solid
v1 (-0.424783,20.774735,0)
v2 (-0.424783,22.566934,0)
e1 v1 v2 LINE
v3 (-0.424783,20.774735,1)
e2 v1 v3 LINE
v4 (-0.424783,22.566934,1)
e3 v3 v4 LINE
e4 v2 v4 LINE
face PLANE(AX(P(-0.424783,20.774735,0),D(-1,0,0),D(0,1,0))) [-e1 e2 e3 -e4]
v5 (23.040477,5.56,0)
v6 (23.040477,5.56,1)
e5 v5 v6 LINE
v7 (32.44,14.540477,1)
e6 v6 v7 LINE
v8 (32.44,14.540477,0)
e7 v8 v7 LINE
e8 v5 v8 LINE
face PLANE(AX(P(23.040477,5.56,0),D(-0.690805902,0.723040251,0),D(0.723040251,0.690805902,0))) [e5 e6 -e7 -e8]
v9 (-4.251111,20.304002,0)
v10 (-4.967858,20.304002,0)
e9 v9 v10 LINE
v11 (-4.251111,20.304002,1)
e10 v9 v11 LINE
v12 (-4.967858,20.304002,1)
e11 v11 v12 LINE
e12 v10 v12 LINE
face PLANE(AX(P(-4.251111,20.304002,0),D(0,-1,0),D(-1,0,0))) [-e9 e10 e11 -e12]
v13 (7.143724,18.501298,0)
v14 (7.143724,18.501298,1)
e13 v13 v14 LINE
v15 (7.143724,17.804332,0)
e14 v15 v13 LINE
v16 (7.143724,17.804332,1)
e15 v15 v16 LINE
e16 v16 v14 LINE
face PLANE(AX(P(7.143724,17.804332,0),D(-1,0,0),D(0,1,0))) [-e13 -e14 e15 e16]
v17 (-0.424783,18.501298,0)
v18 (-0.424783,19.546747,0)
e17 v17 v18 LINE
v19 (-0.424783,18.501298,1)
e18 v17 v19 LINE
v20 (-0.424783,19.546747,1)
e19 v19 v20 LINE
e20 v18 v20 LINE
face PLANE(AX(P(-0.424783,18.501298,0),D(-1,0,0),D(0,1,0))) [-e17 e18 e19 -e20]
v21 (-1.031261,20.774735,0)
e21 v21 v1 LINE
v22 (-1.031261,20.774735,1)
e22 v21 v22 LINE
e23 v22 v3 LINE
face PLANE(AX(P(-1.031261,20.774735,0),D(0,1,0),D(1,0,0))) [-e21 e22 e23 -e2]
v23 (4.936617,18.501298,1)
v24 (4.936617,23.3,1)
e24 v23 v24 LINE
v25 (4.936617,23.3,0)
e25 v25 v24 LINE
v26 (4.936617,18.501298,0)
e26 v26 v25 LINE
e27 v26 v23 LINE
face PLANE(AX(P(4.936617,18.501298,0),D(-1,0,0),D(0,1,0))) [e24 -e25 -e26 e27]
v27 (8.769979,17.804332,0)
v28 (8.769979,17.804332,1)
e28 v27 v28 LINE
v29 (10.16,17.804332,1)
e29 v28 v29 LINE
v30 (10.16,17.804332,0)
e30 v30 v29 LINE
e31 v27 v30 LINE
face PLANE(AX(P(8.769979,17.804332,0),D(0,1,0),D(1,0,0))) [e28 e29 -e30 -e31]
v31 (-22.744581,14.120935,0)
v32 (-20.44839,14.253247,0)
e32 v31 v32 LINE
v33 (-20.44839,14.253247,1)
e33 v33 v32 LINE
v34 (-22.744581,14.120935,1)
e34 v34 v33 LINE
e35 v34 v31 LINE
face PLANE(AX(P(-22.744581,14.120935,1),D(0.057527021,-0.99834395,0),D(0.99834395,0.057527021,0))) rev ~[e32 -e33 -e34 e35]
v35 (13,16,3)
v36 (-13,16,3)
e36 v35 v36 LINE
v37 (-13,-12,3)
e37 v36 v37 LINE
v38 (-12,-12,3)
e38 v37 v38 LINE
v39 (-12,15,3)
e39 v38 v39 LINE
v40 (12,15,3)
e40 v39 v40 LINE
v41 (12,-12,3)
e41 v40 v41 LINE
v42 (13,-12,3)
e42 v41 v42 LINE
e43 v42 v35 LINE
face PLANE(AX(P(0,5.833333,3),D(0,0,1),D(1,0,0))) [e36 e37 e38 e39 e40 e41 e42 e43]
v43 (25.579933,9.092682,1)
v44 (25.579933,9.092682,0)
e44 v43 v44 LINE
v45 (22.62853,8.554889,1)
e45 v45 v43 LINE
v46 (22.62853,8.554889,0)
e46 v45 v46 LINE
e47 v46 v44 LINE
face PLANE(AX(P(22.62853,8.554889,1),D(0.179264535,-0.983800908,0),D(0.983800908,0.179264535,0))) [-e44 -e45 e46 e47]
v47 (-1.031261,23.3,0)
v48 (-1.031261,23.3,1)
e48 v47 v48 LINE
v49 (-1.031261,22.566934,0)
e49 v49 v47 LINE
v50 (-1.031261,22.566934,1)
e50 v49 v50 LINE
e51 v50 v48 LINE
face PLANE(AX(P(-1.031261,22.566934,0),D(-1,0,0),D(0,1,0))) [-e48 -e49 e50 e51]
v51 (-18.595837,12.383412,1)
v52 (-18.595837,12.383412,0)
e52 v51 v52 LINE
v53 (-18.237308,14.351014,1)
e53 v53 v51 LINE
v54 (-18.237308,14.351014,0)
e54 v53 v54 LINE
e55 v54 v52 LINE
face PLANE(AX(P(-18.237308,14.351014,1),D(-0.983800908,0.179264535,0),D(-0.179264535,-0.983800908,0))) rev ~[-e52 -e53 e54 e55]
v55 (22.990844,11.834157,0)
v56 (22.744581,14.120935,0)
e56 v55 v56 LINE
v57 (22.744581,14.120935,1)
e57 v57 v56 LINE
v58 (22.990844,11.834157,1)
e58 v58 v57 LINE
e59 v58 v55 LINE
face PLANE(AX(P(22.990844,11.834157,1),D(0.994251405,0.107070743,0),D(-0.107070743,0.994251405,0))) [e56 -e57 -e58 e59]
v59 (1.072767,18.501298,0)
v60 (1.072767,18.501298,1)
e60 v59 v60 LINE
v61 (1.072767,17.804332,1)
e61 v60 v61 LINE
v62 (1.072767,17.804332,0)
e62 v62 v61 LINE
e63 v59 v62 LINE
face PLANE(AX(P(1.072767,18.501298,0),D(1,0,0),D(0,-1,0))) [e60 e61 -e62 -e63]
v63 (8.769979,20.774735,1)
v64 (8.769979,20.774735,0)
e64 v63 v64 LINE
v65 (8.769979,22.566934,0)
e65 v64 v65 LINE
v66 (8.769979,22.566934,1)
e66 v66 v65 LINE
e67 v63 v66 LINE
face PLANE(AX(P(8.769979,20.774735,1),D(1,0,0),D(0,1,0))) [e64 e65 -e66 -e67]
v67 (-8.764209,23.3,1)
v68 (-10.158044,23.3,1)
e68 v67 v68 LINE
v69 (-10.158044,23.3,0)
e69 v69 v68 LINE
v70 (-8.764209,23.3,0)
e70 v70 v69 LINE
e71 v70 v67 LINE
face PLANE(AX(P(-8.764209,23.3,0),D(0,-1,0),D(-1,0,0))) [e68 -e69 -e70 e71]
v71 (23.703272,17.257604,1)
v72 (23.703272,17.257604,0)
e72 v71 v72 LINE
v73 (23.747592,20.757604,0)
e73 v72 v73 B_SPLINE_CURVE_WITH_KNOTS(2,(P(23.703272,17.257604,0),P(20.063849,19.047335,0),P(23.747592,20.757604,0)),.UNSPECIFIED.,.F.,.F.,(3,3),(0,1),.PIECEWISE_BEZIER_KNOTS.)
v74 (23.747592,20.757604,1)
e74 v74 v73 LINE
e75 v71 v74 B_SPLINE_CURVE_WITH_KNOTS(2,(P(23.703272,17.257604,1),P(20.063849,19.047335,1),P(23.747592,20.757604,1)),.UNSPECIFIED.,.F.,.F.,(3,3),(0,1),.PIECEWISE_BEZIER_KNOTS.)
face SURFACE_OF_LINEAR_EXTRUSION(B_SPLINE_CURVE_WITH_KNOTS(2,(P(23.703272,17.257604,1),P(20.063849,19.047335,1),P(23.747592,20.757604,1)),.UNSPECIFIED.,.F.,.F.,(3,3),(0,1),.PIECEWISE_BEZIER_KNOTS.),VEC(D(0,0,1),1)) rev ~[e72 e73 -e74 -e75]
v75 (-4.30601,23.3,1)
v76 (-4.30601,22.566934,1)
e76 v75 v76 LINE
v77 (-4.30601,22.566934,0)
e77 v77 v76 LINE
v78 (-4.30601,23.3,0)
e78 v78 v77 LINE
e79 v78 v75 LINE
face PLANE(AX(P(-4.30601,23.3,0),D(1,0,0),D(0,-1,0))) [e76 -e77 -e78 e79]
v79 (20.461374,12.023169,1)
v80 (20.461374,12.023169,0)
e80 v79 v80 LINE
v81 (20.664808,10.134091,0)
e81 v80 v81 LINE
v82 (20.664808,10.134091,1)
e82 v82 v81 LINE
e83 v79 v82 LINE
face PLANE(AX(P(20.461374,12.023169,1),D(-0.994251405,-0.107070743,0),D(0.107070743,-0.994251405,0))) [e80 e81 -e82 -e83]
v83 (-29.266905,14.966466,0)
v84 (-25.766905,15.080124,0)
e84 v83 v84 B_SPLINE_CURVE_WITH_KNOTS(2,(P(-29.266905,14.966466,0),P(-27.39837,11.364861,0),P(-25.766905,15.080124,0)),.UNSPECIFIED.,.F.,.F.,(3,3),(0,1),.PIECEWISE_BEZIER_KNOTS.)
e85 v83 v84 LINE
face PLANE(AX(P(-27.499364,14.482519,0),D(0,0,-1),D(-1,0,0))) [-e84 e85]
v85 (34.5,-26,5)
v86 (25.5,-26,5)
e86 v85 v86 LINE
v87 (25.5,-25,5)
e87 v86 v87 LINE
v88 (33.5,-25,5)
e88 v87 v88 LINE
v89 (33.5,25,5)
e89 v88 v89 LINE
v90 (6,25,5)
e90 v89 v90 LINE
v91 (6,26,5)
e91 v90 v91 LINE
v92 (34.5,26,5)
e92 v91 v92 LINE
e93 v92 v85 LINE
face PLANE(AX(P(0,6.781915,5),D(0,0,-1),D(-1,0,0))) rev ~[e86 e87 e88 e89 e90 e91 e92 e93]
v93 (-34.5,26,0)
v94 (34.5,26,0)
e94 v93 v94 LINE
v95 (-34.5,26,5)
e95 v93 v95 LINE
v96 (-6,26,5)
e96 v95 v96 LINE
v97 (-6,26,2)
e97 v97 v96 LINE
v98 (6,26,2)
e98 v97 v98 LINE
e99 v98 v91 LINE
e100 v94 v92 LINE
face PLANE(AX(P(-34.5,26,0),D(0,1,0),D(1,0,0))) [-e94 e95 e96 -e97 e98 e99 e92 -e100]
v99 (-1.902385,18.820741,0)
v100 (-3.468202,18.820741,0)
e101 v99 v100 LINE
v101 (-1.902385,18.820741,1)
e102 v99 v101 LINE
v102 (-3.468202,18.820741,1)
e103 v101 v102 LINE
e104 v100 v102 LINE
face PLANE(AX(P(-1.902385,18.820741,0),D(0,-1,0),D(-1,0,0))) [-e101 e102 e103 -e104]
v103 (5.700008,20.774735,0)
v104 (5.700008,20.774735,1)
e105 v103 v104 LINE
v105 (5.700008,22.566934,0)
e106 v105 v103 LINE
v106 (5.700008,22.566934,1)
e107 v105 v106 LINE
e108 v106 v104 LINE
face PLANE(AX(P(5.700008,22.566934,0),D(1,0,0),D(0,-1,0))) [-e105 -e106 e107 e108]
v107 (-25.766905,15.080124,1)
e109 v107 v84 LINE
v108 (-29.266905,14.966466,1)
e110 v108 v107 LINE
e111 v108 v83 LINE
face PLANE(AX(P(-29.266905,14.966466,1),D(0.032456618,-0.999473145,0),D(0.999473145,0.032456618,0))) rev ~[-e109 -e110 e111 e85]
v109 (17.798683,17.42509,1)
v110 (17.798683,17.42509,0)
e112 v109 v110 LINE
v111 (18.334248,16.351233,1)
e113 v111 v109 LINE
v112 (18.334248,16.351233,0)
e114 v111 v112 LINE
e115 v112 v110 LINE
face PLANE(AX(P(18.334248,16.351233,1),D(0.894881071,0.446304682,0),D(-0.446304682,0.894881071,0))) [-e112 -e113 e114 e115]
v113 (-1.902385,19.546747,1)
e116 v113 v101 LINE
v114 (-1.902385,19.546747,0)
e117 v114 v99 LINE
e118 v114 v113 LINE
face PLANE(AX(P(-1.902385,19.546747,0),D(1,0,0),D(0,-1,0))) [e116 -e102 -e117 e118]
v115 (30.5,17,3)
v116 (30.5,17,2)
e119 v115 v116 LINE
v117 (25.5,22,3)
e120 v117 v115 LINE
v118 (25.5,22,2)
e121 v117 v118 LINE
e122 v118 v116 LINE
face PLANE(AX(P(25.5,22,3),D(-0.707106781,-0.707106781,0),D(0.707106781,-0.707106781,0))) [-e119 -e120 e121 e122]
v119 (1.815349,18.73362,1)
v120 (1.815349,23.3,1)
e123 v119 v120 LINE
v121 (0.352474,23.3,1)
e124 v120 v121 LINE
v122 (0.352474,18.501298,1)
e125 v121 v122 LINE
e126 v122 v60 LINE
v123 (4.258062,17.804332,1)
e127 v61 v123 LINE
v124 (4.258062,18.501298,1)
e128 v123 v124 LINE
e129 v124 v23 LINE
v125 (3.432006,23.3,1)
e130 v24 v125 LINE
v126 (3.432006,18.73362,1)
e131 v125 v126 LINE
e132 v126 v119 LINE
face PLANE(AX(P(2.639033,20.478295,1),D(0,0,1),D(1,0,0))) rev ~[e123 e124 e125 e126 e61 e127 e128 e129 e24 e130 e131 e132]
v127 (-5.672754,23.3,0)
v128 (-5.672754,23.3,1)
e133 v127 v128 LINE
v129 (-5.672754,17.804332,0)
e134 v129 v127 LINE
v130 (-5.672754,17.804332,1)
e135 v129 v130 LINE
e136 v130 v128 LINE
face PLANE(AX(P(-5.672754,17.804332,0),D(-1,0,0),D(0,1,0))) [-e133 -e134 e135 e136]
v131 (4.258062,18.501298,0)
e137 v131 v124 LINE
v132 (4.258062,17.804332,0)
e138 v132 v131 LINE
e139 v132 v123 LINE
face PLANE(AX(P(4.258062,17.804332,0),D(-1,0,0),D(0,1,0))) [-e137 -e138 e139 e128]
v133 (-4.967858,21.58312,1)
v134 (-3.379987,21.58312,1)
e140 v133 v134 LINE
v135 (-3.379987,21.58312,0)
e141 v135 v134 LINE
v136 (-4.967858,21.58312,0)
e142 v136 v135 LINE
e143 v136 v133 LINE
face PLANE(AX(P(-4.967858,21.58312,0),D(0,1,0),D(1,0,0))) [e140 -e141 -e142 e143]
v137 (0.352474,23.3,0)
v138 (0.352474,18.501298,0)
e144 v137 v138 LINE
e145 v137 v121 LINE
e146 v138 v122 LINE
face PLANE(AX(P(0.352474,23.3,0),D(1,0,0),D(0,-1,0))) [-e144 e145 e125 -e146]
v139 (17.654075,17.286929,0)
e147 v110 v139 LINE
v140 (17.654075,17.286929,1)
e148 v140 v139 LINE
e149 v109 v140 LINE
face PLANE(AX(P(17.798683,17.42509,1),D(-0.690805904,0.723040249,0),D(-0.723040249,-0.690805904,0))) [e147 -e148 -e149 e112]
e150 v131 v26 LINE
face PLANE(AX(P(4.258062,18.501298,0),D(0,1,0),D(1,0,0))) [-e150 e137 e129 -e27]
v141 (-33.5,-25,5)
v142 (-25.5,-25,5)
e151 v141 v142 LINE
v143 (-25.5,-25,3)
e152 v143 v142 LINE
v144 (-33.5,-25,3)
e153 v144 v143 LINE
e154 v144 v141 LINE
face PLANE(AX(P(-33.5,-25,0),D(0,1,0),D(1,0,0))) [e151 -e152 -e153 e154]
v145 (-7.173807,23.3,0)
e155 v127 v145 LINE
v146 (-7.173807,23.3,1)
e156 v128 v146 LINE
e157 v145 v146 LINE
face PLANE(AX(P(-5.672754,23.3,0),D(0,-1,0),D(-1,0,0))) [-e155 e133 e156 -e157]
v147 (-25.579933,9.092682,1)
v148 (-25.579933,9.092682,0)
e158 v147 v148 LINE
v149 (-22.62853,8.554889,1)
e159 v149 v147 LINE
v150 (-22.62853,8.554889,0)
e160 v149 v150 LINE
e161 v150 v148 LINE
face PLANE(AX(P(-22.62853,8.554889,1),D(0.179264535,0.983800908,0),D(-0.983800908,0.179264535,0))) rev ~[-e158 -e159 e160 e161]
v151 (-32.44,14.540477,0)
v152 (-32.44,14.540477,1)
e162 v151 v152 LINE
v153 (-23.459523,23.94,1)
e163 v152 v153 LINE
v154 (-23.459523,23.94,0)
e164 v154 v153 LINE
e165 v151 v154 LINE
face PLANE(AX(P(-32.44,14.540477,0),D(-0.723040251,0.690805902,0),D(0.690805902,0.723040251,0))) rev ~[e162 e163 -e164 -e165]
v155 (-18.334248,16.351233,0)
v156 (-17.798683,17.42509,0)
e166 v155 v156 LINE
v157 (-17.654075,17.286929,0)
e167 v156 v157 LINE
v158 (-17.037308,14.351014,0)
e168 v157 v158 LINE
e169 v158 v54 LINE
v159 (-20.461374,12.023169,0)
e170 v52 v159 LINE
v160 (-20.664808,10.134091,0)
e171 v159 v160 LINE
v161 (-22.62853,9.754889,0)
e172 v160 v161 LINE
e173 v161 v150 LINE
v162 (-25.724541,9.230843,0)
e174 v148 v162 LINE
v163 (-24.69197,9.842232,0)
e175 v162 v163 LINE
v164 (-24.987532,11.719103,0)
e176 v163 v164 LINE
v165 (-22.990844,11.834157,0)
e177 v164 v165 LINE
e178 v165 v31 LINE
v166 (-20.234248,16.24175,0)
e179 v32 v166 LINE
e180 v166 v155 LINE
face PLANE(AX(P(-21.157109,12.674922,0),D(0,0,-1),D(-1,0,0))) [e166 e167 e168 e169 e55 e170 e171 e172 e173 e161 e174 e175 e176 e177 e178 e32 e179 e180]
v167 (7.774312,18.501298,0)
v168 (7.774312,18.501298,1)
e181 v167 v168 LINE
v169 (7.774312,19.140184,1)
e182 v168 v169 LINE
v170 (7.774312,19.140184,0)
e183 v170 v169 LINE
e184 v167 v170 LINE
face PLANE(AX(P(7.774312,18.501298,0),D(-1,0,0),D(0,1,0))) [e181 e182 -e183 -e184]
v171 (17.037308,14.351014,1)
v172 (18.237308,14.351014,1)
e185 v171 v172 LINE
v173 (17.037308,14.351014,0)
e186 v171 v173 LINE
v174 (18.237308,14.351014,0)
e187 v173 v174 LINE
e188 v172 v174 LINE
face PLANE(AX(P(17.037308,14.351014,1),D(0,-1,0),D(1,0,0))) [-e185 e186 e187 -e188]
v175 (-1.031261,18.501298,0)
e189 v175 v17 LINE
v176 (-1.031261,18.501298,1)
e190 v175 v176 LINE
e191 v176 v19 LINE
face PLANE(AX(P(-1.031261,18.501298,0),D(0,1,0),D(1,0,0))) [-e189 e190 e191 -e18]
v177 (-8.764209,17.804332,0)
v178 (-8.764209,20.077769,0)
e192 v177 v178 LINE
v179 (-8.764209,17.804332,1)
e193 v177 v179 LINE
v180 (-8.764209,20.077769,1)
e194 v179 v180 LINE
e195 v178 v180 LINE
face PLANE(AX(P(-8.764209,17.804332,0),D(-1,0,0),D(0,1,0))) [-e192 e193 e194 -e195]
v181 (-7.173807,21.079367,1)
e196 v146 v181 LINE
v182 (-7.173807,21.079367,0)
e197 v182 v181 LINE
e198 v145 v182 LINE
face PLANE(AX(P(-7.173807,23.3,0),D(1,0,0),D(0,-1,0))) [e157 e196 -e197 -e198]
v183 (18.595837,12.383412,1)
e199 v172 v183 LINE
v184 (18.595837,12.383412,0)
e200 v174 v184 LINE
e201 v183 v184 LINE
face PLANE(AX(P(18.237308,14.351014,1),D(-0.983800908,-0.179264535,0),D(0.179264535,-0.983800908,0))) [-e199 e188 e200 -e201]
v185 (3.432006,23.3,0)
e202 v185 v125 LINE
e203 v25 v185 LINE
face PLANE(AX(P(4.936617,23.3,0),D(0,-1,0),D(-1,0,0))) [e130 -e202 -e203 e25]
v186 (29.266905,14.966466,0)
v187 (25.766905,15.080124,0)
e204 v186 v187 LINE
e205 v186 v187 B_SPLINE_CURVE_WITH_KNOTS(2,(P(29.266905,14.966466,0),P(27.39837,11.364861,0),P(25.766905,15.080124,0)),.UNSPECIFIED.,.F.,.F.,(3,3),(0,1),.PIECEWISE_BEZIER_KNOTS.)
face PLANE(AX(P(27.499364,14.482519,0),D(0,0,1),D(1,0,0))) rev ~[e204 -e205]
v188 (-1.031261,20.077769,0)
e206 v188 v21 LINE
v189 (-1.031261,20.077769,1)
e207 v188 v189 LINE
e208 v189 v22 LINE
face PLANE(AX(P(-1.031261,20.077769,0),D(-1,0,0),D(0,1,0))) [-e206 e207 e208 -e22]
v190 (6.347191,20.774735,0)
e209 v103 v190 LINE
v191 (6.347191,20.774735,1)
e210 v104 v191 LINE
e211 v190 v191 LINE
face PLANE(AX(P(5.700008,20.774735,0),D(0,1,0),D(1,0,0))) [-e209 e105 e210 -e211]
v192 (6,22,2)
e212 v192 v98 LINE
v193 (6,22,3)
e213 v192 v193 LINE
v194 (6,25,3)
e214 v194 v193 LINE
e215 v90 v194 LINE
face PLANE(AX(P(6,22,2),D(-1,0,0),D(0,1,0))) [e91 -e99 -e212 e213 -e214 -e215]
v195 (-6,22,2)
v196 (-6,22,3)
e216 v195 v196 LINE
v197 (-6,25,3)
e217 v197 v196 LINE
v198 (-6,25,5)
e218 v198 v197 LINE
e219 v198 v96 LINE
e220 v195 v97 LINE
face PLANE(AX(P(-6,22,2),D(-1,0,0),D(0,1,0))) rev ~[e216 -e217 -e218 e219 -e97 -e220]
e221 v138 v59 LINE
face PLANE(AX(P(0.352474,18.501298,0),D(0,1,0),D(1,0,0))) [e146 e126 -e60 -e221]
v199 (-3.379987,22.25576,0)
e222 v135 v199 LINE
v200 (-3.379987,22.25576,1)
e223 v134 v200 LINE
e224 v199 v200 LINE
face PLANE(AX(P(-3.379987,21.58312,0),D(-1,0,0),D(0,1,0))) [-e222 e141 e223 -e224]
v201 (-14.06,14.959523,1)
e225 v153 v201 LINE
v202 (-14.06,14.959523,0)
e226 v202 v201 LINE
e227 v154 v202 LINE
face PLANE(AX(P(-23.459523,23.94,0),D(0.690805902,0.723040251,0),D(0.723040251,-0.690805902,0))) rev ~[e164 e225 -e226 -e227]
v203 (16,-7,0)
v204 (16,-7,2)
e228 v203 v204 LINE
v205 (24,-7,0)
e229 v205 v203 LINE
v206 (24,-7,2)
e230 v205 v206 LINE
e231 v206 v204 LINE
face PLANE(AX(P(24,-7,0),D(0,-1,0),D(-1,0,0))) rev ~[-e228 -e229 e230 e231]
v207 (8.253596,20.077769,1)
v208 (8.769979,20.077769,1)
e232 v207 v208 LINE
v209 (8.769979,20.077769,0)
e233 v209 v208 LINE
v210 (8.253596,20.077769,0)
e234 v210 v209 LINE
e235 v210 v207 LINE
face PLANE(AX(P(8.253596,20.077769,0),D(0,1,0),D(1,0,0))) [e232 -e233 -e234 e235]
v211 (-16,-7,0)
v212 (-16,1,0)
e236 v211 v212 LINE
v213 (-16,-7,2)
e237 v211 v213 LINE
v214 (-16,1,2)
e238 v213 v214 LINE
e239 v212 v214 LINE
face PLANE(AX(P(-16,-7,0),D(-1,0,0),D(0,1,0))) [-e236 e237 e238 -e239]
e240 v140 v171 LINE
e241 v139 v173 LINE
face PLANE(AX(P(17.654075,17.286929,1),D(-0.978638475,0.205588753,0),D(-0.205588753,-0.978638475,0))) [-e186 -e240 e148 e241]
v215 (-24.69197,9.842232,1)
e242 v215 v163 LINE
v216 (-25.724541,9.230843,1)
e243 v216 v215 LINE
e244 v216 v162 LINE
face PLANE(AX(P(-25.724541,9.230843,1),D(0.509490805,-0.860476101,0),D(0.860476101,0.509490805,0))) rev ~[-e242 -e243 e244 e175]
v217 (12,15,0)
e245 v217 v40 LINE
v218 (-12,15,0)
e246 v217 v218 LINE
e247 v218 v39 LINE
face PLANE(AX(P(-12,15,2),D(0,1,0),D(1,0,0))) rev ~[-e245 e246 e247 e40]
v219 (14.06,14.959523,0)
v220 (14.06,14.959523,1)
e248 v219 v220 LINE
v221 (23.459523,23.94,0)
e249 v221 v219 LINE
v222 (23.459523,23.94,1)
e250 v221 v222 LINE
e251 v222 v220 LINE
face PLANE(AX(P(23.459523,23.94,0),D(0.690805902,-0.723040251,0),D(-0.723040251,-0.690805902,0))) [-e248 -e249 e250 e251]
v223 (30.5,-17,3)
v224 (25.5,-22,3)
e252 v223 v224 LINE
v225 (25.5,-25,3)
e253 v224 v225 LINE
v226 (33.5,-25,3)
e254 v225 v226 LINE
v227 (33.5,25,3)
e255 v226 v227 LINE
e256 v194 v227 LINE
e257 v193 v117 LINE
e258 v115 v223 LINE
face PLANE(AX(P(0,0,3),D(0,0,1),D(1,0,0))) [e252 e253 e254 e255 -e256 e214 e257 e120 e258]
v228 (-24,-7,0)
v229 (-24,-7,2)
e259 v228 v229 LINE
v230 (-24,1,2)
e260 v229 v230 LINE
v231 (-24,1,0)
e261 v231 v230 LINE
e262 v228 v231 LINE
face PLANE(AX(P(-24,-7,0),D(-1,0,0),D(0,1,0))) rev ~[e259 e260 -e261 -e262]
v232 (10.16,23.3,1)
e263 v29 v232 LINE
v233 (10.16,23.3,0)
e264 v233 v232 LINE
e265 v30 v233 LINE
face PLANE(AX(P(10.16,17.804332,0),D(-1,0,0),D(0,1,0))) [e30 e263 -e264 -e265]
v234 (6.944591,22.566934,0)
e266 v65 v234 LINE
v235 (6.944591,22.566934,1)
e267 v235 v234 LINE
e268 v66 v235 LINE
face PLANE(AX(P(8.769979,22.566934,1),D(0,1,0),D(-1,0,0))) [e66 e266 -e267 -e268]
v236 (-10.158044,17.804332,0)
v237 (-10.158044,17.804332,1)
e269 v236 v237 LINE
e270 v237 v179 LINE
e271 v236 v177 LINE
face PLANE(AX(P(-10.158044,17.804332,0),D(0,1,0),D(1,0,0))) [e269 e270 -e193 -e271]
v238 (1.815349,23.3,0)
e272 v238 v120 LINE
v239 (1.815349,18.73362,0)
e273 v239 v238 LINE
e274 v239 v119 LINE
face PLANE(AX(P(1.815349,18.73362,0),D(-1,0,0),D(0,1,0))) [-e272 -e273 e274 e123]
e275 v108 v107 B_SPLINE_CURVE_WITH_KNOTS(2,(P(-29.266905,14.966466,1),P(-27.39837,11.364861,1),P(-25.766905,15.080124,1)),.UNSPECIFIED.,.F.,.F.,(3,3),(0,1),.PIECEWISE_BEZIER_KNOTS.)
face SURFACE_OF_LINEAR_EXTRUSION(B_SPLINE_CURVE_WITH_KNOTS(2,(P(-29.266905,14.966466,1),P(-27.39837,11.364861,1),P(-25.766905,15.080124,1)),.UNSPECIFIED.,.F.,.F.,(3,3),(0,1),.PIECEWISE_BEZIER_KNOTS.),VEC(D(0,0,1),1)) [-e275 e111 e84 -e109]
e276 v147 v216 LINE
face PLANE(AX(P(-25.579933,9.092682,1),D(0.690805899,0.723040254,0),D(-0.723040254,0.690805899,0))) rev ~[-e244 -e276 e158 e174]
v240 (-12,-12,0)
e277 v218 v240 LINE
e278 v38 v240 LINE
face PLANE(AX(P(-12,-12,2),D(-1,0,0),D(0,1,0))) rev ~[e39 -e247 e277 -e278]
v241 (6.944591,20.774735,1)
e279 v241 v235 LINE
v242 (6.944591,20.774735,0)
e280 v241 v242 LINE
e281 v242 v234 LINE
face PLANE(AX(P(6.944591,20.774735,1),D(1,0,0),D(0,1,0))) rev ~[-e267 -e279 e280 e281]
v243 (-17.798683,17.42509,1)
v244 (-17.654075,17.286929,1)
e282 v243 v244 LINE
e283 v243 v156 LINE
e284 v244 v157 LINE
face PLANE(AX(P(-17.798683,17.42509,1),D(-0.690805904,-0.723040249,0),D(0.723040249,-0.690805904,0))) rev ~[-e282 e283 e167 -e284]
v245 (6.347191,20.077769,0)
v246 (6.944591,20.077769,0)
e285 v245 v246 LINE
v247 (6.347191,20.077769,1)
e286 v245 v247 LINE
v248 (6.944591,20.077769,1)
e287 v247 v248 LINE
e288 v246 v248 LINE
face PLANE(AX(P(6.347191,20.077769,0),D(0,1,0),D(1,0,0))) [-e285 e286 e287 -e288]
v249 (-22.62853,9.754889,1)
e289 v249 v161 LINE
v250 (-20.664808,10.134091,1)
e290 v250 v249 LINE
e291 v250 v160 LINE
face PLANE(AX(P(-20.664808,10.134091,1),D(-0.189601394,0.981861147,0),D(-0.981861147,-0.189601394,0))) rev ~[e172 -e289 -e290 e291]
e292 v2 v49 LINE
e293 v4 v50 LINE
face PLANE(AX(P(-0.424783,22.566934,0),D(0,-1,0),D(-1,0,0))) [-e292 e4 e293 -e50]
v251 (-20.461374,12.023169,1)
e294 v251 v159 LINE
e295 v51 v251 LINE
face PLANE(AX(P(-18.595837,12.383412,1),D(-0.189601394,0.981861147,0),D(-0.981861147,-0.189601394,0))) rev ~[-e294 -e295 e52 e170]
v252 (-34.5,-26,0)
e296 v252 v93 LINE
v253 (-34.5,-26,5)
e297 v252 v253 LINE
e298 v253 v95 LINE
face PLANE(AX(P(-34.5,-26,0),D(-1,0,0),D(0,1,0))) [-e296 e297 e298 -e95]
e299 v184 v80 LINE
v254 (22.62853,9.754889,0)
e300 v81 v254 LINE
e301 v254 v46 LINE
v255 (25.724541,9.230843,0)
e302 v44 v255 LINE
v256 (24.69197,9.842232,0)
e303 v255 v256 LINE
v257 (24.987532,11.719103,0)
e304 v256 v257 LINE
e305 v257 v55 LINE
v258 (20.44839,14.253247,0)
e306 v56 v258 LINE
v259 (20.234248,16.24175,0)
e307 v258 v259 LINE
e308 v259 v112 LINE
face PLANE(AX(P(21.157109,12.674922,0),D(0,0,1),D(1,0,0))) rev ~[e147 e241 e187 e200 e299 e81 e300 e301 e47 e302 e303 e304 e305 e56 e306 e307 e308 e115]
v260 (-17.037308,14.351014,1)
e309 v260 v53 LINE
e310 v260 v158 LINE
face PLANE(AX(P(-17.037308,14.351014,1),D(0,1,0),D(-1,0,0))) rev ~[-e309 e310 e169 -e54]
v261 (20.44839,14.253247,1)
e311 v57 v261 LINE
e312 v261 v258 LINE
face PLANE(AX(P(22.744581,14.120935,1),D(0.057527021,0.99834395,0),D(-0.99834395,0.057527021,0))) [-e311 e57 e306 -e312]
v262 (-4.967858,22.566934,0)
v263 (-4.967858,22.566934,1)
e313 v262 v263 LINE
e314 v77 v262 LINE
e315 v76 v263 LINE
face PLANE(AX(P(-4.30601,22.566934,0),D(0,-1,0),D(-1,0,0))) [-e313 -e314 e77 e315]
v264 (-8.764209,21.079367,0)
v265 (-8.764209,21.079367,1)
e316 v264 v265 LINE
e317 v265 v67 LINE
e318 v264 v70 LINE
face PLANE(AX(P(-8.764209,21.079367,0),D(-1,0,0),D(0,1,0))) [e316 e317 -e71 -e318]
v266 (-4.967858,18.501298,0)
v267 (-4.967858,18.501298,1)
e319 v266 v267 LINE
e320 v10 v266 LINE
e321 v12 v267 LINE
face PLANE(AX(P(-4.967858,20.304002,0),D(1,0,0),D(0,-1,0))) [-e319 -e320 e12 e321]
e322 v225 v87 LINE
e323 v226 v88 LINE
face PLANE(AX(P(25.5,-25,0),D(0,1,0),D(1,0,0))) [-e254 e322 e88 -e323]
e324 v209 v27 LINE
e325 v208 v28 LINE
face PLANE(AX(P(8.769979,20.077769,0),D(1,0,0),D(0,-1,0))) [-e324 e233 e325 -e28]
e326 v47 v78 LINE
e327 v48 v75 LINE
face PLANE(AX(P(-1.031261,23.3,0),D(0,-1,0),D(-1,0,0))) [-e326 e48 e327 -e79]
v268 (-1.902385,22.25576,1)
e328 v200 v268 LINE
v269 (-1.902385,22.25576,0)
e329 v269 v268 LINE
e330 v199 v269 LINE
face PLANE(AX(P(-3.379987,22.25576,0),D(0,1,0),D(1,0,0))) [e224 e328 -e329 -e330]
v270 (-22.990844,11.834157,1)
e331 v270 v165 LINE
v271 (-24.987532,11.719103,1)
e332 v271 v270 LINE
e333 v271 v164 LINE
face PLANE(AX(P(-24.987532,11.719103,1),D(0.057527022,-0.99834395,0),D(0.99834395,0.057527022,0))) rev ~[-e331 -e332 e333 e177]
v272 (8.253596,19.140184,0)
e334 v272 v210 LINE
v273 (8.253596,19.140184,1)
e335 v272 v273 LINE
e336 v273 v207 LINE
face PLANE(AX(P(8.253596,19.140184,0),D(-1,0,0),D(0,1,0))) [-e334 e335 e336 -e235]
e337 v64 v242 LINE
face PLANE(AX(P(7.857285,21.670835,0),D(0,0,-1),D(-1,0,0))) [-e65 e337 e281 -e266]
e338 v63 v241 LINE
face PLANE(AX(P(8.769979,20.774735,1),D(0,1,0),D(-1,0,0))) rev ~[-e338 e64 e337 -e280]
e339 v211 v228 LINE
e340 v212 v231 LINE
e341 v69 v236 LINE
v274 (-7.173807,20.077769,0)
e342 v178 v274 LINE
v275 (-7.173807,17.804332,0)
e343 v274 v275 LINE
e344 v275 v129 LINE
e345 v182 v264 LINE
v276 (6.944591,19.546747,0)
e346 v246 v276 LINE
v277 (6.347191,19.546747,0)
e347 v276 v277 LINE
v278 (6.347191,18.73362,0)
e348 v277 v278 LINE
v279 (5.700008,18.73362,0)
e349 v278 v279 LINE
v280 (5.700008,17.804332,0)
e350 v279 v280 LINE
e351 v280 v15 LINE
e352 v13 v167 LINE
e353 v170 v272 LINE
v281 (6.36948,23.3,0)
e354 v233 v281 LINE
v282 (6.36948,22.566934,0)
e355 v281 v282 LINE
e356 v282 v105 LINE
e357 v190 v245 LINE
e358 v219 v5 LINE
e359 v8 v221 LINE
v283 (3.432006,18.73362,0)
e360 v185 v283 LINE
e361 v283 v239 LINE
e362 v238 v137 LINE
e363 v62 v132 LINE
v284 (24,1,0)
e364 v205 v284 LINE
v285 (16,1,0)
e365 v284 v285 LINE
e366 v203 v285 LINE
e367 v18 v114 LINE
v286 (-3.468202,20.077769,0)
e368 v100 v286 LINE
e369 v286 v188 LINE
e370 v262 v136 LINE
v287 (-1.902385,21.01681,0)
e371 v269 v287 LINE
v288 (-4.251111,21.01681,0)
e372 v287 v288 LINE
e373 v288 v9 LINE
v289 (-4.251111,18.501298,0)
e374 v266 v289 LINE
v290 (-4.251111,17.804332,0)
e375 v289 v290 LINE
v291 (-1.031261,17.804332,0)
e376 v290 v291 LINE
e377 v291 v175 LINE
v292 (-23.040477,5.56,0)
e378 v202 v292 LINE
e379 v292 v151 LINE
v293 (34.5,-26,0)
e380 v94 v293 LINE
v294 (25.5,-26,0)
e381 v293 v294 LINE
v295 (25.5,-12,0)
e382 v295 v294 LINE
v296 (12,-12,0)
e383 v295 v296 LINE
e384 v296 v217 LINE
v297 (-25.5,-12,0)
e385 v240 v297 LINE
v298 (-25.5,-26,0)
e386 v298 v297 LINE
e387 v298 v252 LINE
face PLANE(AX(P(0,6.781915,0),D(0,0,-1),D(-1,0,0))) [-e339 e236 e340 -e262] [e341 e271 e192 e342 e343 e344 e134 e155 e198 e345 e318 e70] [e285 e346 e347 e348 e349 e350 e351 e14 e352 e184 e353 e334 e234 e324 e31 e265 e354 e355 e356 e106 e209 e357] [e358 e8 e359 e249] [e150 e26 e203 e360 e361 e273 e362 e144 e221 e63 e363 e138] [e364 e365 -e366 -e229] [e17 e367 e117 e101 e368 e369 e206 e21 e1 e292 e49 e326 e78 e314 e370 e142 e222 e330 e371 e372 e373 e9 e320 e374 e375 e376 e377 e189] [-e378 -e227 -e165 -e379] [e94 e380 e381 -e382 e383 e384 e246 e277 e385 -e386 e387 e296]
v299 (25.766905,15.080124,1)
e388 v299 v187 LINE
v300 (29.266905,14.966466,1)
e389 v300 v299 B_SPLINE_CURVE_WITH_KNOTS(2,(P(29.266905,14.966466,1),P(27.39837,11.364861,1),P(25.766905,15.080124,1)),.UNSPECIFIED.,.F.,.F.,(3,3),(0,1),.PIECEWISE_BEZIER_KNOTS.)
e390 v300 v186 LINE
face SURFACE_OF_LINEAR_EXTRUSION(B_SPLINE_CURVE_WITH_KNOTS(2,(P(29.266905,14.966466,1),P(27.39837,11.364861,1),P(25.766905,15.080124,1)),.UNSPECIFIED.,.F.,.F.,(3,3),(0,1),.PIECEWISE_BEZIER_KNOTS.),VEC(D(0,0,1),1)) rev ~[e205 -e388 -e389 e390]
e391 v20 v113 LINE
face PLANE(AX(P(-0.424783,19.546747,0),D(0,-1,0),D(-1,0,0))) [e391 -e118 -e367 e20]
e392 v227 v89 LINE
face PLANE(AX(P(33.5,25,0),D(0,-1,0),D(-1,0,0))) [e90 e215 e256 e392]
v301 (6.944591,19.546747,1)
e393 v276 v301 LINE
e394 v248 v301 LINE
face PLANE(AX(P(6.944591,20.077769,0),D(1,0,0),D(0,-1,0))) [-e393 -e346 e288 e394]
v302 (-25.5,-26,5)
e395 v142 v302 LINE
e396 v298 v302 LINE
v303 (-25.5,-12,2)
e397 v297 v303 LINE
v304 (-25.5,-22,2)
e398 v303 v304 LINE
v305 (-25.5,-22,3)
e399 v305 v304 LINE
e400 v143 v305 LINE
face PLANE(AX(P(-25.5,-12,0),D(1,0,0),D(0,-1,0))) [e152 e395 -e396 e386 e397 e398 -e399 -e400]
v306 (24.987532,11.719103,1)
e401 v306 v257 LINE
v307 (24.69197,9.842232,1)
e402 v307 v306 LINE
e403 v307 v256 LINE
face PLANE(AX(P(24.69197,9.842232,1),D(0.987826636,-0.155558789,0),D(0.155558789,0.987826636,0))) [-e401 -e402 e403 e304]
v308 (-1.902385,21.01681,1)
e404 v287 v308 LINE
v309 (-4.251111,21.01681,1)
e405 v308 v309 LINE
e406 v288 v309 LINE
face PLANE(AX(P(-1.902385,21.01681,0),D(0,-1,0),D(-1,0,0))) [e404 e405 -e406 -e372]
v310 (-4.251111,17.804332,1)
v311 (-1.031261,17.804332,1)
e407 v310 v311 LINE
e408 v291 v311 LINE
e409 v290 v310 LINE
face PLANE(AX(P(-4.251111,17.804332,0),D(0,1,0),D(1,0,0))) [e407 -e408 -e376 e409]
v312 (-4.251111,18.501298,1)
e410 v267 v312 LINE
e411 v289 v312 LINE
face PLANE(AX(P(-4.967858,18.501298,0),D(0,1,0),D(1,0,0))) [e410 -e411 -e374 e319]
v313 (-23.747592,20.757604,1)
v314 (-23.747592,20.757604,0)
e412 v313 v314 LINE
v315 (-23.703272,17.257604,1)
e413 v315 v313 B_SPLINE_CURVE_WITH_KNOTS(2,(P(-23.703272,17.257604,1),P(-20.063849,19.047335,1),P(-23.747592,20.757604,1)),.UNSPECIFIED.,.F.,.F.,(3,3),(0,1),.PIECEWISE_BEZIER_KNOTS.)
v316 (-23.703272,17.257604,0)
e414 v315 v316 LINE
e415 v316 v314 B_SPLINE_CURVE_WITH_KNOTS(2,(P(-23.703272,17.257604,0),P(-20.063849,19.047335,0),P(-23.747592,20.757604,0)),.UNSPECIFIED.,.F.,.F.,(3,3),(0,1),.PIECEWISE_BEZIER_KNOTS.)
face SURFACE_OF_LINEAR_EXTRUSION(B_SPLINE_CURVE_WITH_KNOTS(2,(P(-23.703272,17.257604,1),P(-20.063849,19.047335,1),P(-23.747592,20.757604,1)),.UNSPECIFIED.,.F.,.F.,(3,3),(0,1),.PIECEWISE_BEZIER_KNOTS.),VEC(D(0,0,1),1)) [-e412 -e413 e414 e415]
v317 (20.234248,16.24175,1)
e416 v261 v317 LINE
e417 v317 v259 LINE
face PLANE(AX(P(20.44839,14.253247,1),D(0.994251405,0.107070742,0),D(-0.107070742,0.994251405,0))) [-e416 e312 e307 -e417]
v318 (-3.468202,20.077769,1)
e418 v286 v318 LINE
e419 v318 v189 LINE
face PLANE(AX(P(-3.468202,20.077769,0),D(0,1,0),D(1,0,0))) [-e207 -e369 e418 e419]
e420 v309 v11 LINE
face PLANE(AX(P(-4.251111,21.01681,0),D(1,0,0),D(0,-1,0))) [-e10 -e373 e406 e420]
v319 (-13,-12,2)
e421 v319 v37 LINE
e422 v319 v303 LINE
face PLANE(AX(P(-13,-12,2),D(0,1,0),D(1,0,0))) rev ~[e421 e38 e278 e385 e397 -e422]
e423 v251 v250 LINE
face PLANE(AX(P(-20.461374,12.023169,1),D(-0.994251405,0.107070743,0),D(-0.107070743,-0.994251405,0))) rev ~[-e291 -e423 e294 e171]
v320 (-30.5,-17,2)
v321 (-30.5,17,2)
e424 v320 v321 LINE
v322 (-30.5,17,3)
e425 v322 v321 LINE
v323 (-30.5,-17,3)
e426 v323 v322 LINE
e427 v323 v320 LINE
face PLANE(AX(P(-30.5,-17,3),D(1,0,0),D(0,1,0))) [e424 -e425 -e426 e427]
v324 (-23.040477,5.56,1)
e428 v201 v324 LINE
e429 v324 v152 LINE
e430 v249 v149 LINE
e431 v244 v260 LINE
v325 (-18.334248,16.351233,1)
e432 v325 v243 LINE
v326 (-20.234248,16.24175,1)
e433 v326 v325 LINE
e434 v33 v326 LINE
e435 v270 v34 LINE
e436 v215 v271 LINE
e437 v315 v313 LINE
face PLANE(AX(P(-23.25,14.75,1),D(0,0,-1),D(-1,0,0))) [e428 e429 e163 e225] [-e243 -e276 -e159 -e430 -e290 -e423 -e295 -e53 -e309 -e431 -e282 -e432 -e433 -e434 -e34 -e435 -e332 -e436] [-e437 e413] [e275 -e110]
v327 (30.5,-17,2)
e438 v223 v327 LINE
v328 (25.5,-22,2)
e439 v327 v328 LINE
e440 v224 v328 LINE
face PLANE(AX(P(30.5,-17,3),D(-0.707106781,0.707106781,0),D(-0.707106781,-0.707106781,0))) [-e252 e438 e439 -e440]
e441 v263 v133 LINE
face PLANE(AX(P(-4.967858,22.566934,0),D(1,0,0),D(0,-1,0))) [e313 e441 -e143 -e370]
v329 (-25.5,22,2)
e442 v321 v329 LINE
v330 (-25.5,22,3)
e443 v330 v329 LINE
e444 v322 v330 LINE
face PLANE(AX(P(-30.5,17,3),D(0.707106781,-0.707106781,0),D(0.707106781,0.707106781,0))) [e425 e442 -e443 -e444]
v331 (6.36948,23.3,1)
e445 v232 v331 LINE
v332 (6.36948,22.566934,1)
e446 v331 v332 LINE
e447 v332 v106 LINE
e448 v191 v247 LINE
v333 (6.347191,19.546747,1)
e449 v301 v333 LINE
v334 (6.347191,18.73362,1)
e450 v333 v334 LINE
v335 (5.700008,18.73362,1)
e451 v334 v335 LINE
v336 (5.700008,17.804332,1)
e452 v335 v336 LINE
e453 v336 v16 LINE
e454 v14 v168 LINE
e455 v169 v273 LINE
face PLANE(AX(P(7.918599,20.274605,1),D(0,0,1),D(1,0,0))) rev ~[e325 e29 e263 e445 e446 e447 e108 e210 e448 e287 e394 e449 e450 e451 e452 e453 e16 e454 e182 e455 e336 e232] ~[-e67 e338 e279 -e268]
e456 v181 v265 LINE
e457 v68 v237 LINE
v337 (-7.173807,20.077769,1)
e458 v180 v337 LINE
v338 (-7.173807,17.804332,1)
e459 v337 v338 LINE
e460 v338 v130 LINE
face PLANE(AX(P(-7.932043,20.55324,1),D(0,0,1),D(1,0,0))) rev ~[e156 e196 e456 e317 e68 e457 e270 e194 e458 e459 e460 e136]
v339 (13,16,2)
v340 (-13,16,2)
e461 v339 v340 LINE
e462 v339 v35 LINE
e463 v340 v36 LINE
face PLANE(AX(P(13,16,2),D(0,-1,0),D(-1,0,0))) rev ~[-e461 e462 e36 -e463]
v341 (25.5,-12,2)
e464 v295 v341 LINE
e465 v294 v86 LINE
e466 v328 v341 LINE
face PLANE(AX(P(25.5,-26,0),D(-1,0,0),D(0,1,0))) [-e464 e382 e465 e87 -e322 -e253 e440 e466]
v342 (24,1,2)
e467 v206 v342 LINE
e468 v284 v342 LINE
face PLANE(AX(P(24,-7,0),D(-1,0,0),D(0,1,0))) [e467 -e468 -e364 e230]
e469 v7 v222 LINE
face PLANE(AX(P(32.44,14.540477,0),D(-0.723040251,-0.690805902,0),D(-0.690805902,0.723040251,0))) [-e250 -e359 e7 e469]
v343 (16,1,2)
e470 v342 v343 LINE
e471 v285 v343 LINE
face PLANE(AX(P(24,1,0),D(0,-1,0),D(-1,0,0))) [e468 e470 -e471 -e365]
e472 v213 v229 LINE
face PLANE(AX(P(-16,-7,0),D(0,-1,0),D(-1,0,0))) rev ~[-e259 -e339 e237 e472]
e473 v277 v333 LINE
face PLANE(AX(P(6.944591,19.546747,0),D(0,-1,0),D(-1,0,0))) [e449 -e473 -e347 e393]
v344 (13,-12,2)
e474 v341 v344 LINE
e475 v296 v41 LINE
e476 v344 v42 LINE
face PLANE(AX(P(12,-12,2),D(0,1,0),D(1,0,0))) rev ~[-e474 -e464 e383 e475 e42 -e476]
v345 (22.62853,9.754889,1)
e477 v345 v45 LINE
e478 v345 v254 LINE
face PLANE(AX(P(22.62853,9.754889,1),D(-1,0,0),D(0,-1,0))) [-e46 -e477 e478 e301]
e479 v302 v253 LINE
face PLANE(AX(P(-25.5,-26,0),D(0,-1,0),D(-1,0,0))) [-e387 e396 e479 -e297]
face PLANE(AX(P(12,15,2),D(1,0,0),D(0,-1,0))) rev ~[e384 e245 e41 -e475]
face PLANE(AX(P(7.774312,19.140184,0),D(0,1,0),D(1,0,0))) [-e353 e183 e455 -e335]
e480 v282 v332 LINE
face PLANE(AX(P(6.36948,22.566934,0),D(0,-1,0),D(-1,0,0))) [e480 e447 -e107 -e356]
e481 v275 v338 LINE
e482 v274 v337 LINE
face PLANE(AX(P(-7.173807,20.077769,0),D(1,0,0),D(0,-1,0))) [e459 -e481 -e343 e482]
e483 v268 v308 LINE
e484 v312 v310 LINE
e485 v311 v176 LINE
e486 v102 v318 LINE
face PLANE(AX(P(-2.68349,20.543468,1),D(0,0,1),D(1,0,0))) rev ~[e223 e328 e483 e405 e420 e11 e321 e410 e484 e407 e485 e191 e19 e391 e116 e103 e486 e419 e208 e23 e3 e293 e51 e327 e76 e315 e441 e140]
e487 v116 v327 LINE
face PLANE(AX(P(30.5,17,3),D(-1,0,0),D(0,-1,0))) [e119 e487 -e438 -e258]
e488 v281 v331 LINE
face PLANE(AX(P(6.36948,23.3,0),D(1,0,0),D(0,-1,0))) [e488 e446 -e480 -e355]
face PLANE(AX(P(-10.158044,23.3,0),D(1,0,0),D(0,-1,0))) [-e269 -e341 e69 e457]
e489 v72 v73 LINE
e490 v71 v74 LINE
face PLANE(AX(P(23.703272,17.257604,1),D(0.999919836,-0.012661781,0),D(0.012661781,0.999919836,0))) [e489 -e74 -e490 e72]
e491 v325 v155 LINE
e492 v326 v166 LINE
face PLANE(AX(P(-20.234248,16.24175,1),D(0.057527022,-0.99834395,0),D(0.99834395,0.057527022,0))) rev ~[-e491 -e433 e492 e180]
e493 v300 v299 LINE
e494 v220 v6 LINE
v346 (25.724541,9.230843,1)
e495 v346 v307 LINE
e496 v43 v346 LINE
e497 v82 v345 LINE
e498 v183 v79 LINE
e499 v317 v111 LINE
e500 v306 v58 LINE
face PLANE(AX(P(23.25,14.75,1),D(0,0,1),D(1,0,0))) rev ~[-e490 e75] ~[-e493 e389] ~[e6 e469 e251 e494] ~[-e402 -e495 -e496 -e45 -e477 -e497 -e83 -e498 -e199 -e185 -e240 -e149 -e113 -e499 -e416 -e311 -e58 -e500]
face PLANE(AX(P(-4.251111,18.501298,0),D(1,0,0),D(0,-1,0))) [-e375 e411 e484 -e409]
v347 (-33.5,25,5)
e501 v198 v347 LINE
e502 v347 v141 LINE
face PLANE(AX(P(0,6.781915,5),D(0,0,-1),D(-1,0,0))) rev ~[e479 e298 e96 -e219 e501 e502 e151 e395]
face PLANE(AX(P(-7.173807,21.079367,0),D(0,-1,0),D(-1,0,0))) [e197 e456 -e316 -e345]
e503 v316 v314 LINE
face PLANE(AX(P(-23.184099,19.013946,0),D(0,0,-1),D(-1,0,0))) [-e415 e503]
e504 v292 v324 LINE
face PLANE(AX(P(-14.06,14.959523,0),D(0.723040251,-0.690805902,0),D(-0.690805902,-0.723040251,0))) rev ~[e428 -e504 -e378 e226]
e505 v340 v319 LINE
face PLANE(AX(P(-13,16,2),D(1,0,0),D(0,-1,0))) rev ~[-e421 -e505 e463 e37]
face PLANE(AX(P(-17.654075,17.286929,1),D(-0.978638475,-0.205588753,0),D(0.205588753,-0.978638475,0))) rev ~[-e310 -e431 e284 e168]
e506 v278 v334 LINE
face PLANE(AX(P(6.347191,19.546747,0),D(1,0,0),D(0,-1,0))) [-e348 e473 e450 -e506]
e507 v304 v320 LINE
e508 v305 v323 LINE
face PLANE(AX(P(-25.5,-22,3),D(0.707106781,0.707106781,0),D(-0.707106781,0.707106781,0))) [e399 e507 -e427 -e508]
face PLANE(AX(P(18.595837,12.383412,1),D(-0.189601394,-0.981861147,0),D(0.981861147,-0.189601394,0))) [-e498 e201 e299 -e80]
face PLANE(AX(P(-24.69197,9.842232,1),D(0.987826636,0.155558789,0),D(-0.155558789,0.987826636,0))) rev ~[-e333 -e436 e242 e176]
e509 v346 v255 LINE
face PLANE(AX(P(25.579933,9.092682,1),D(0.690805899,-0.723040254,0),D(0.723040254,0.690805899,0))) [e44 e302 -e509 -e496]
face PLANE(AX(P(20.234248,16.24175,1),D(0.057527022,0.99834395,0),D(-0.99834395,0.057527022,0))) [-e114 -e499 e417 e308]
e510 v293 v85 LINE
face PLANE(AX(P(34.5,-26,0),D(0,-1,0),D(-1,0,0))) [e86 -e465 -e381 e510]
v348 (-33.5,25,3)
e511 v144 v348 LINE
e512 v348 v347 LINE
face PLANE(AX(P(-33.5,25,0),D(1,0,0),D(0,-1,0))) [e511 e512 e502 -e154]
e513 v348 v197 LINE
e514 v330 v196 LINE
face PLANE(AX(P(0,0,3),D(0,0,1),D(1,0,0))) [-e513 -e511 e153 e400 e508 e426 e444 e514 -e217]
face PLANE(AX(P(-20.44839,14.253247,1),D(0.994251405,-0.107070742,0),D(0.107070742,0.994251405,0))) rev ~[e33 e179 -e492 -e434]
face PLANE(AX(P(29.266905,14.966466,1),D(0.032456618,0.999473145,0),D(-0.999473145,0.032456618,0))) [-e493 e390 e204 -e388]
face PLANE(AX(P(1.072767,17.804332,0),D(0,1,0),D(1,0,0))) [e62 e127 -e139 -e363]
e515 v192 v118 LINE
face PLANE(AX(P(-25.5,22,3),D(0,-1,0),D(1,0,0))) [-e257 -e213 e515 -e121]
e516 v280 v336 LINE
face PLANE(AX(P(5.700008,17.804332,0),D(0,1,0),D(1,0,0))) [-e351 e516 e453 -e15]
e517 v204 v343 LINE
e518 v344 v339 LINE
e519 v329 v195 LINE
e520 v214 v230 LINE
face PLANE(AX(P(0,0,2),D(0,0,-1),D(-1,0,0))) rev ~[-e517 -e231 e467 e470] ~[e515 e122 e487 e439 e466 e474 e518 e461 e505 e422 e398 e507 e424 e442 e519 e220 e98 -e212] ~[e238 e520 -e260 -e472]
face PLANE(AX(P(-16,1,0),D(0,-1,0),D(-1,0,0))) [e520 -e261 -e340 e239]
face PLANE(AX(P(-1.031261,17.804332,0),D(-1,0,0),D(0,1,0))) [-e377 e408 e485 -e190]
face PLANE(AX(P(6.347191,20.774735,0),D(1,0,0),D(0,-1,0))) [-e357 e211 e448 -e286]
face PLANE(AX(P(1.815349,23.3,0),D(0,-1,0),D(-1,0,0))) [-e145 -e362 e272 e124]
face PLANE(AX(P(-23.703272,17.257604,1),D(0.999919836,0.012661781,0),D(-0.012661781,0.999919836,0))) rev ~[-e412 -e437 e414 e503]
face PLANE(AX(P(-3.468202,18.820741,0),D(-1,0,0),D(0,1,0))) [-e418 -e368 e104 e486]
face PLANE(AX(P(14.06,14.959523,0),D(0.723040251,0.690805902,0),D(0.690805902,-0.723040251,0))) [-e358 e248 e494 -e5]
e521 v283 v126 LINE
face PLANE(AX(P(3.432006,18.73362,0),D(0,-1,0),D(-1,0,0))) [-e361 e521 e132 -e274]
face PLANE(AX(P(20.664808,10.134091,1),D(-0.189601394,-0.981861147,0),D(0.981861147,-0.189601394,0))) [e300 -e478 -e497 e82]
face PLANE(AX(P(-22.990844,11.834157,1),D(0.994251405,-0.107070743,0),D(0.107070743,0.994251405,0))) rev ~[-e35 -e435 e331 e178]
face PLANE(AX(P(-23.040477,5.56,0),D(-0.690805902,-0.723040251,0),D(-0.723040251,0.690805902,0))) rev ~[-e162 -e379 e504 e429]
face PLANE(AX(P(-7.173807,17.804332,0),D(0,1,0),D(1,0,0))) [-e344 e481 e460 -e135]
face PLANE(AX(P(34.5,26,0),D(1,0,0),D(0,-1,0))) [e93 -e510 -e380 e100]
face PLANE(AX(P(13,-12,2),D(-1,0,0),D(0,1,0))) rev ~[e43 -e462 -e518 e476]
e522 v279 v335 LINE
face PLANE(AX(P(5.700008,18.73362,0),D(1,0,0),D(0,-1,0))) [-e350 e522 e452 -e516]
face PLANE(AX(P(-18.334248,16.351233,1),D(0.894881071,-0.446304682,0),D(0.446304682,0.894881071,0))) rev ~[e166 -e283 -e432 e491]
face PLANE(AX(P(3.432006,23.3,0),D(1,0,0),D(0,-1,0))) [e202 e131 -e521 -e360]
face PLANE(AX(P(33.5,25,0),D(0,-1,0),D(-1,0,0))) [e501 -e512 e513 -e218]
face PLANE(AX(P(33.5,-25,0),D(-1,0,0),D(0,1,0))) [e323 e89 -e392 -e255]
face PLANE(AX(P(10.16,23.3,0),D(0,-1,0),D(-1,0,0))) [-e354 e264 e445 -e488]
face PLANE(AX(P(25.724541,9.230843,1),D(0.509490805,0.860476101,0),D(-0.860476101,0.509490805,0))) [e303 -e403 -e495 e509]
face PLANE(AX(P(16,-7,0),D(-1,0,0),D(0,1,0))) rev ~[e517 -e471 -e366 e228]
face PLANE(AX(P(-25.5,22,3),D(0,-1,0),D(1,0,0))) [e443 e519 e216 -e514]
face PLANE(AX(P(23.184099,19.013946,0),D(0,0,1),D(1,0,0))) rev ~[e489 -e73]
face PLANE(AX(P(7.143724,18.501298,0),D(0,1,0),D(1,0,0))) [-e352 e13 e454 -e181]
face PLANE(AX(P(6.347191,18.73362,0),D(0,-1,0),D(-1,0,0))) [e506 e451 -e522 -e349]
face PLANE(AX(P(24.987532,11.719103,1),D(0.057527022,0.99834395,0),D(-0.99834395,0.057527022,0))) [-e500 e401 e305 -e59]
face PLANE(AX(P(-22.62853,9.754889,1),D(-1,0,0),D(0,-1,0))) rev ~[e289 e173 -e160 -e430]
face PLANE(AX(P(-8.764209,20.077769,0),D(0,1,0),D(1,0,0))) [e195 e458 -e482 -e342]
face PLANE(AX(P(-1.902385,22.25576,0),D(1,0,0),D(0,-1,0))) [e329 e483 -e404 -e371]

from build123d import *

# Parameters (mm, degrees)
SKICA1_W                    = 67
SKICA1_H                    = 50
P_IDAT_VYSUNUT_M1_DEPTH     = 3
ODEBRAT_VYSUNUT_M1_DEPTH    = 1
SKICA3_W                    = 8
SKICA3_H                    = 8
ODEBRAT_VYSUNUT_M2_DEPTH    = 4
VYSUNOUT_TENKOST_NN_1_DEPTH = 1
VYSUNOUT_TENKOST_NN_2_DEPTH = 5
SKICA6_W                    = 12
SKICA6_H                    = 4
ODEBRAT_VYSUNUT_M3_DEPTH    = 4
ODEBRAT_VYSUNUT_M5_DEPTH    = 1
P_IDAT_START                = -1
P_IDAT_VYSUNUT_M5_DEPTH     = 1
P_IDAT_VYSUNUT_M6_DEPTH     = 1
ODEBRAT_VYSUNUT_M6_DEPTH    = 1
SKICA13_W                   = 1.825387876
SKICA13_H                   = 1.792199005
P_IDAT_VYSUNUT_M7_DEPTH     = 1


with BuildPart() as part:
    # Skica1 → Přidat vysunutím1 (new body)
    with BuildSketch(Plane.XY):
        Rectangle(SKICA1_W, SKICA1_H)
    extrude(amount=P_IDAT_VYSUNUT_M1_DEPTH)

    # Skica2 → Odebrat vysunutím1 (cut)
    with BuildSketch(Plane.XY.offset(3)):
        Polygon((-25.5, -22), (-30.5, -17), (-30.5, 17), (-25.5, 22), (25.5, 22), (30.5, 17), (30.5, -17), (25.5, -22), align=None)
    extrude(amount=-ODEBRAT_VYSUNUT_M1_DEPTH, mode=Mode.SUBTRACT)

    # Skica3 → Odebrat vysunutím2 (cut, through all)
    with BuildSketch(Plane(origin=(0, 0, 0), x_dir=(-1, 0, 0), z_dir=(0, 0, -1))):
        with Locations((20, -3)):
            Rectangle(SKICA3_W, SKICA3_H)
        with Locations((-20, -3)):
            Rectangle(SKICA3_W, SKICA3_H)
        Polygon((25.5, -25), (-25.5, -25), (-25.5, -12), (-12, -12), (-12, 15), (12, 15), (12, -12), (25.5, -12), align=None)
    extrude(amount=-ODEBRAT_VYSUNUT_M2_DEPTH, mode=Mode.SUBTRACT)

    # Skica4 → Vysunout tenkostěnný1 (add)
    with BuildSketch(Plane.XY.offset(2)):
        Polygon((-12, -12), (-12, 15), (12, 15), (12, -12), (13, -12), (13, 16), (-13, 16), (-13, -12), align=None)
    extrude(amount=VYSUNOUT_TENKOST_NN_1_DEPTH)

    # Skica5 → Vysunout tenkostěnný2 (add)
    with BuildSketch(Plane(origin=(0, 0, 0), x_dir=(-1, 0, 0), z_dir=(0, 0, -1))):
        Polygon((-25.5, -25), (-33.5, -25), (-33.5, 25), (33.5, 25), (33.5, -25), (25.5, -25), (25.5, -26), (34.5, -26), (34.5, 26), (-34.5, 26), (-34.5, -26), (-25.5, -26), align=None)
    extrude(amount=-VYSUNOUT_TENKOST_NN_2_DEPTH)

    # Skica6 → Odebrat vysunutím3 (cut, through all)
    with BuildSketch(Plane.XY.offset(2)):
        with Locations((0, 24)):
            Rectangle(SKICA6_W, SKICA6_H)
    extrude(amount=ODEBRAT_VYSUNUT_M3_DEPTH, mode=Mode.SUBTRACT)

    # Skica7 → Odebrat vysunutím5 (cut)
    with BuildSketch(Plane(origin=(0, 0, 0), x_dir=(-1, 0, 0), z_dir=(0, 0, -1))):
        Polygon((-32.44, 14.540476732), (-23.459523268, 23.94), (-14.06, 14.959523268), (-23.040476732, 5.56), align=None)
        Polygon((14.06, 14.959523268), (23.040476732, 5.56), (32.44, 14.540476732), (23.459523268, 23.94), align=None)
    extrude(amount=-ODEBRAT_VYSUNUT_M5_DEPTH, mode=Mode.SUBTRACT)

    # Skica8 → Přidat vysunutím5 (add)
    with BuildSketch(Plane(origin=(0, 0, 0), x_dir=(-1, 0, 0), z_dir=(0, 0, -1)).offset(P_IDAT_START)):
        with BuildLine():
            Line((-29.266904741, 14.966465555), (-25.766904741, 15.0801236))
            add(Edge.make_bspline(
                [(-29.266904741, 14.966465555), (-27.398369795, 11.364860762), (-25.766904741, 15.0801236)],
                knots=[0, 0, 0, 1, 1, 1], degree=2))
        make_face()
        with BuildLine():
            Line((-23.70327201, 17.257603785), (-23.747591798, 20.757603785))
            add(Edge.make_bspline(
                [(-23.70327201, 17.257603785), (-20.063848901, 19.047335046), (-23.747591798, 20.757603785)],
                knots=[0, 0, 0, 1, 1, 1], degree=2))
        make_face()
        with BuildLine():
            Line((29.266904741, 14.966465555), (25.766904741, 15.0801236))
            add(Edge.make_bspline(
                [(29.266904741, 14.966465555), (27.398369795, 11.364860762), (25.766904741, 15.0801236)],
                knots=[0, 0, 0, 1, 1, 1], degree=2))
        make_face()
        with BuildLine():
            Line((23.70327201, 17.257603785), (23.747591798, 20.757603785))
            add(Edge.make_bspline(
                [(23.70327201, 17.257603785), (20.063848901, 19.047335046), (23.747591798, 20.757603785)],
                knots=[0, 0, 0, 1, 1, 1], degree=2))
        make_face()
    extrude(amount=P_IDAT_VYSUNUT_M5_DEPTH)

    # Skica11 → Přidat vysunutím6 (add)
    with BuildSketch(Plane(origin=(0, 0, 0), x_dir=(-1, 0, 0), z_dir=(0, 0, -1)).offset(P_IDAT_START)):
        Polygon((-25.724541131, 9.230843392), (-24.69196981, 9.842232358), (-24.987531509, 11.719102967), (-22.99084361, 11.83415701), (-22.744580902, 14.120935241), (-20.448389818, 14.25324739), (-20.234248333, 16.2417502), (-18.334248333, 16.35123285), (-17.798682715, 17.425090135), (-17.654074665, 17.286928954), (-17.037308405, 14.35101353), (-18.237308405, 14.35101353), (-18.595837474, 12.383411714), (-20.461373652, 12.023169065), (-20.664808063, 10.134091396), (-22.628530356, 9.754888608), (-22.628530356, 8.554888608), (-25.57993308, 9.092682212), align=None)
        Polygon((22.628530356, 8.554888608), (25.57993308, 9.092682212), (25.724541131, 9.230843392), (24.69196981, 9.842232358), (24.987531509, 11.719102967), (22.99084361, 11.83415701), (22.744580902, 14.120935241), (20.448389818, 14.25324739), (20.234248333, 16.2417502), (18.334248333, 16.35123285), (17.798682715, 17.425090135), (17.654074665, 17.286928954), (17.037308405, 14.35101353), (18.237308405, 14.35101353), (18.595837474, 12.383411714), (20.461373652, 12.023169065), (20.664808063, 10.134091396), (22.628530356, 9.754888608), align=None)
    extrude(amount=P_IDAT_VYSUNUT_M6_DEPTH)

    # Skica12 → Odebrat vysunutím6 (cut)
    with BuildSketch(Plane(origin=(0, 0, 0), x_dir=(-1, 0, 0), z_dir=(0, 0, -1))):
        Polygon((-10.16, 23.3), (-6.369480049, 23.3), (-6.369480049, 22.56693444), (-5.70000808, 22.56693444), (-5.70000808, 20.774735435), (-6.347191054, 20.774735435), (-6.347191054, 20.077769155), (-6.944590723, 20.077769155), (-6.944590723, 19.546747227), (-6.347191054, 19.546747227), (-6.347191054, 18.733619901), (-5.70000808, 18.733619901), (-5.70000808, 17.804331528), (-7.143723945, 17.804331528), (-7.143723945, 18.501297807), (-7.774312484, 18.501297807), (-7.774312484, 19.140183564), (-8.253595527, 19.140183564), (-8.253595527, 20.077769155), (-8.769978599, 20.077769155), (-8.769978599, 17.804331528), (-10.16, 17.804331528), align=None)
        Polygon((-4.936617449, 23.3), (-3.432005952, 23.3), (-3.432005952, 18.733619901), (-1.815348918, 18.733619901), (-1.815348918, 23.3), (-0.352474449, 23.3), (-0.352474449, 18.501297807), (-1.072767186, 18.501297807), (-1.072767186, 17.804331528), (-4.258061738, 17.804331528), (-4.258061738, 18.501297807), (-4.936617449, 18.501297807), align=None)
        Polygon((4.306009733, 22.56693444), (4.967857854, 22.56693444), (4.967857854, 21.583119882), (3.37998692, 21.583119882), (3.37998692, 22.255759653), (1.9023848, 22.255759653), (1.9023848, 21.01680995), (4.251110557, 21.01680995), (4.251110557, 20.304001629), (4.967857854, 20.304001629), (4.967857854, 18.501297807), (4.251110557, 18.501297807), (4.251110557, 17.804331528), (1.031261162, 17.804331528), (1.031261162, 18.501297807), (0.42478268, 18.501297807), (0.42478268, 19.546747227), (1.9023848, 19.546747227), (1.9023848, 18.820740686), (3.468201971, 18.820740686), (3.468201971, 20.077769155), (1.031261162, 20.077769155), (1.031261162, 20.774735435), (0.42478268, 20.774735435), (0.42478268, 22.56693444), (1.031261162, 22.56693444), (1.031261162, 23.3), (4.306009733, 23.3), align=None)
        Polygon((5.672754202, 23.3), (7.173807496, 23.3), (7.173807496, 21.079366958), (8.764209199, 21.079366958), (8.764209199, 23.3), (10.1580444, 23.3), (10.1580444, 17.804331528), (8.764209199, 17.804331528), (8.764209199, 20.077769155), (7.173807496, 20.077769155), (7.173807496, 17.804331528), (5.672754202, 17.804331528), align=None)
    extrude(amount=-ODEBRAT_VYSUNUT_M6_DEPTH, mode=Mode.SUBTRACT)

    # Skica13 → Přidat vysunutím7 (add)
    with BuildSketch(Plane(origin=(0, 0, 0), x_dir=(-1, 0, 0), z_dir=(0, 0, -1)).offset(P_IDAT_START)):
        with Locations((-7.857284661, 21.670834938)):
            Rectangle(SKICA13_W, SKICA13_H)
    extrude(amount=P_IDAT_VYSUNUT_M7_DEPTH)


solid = part.part
